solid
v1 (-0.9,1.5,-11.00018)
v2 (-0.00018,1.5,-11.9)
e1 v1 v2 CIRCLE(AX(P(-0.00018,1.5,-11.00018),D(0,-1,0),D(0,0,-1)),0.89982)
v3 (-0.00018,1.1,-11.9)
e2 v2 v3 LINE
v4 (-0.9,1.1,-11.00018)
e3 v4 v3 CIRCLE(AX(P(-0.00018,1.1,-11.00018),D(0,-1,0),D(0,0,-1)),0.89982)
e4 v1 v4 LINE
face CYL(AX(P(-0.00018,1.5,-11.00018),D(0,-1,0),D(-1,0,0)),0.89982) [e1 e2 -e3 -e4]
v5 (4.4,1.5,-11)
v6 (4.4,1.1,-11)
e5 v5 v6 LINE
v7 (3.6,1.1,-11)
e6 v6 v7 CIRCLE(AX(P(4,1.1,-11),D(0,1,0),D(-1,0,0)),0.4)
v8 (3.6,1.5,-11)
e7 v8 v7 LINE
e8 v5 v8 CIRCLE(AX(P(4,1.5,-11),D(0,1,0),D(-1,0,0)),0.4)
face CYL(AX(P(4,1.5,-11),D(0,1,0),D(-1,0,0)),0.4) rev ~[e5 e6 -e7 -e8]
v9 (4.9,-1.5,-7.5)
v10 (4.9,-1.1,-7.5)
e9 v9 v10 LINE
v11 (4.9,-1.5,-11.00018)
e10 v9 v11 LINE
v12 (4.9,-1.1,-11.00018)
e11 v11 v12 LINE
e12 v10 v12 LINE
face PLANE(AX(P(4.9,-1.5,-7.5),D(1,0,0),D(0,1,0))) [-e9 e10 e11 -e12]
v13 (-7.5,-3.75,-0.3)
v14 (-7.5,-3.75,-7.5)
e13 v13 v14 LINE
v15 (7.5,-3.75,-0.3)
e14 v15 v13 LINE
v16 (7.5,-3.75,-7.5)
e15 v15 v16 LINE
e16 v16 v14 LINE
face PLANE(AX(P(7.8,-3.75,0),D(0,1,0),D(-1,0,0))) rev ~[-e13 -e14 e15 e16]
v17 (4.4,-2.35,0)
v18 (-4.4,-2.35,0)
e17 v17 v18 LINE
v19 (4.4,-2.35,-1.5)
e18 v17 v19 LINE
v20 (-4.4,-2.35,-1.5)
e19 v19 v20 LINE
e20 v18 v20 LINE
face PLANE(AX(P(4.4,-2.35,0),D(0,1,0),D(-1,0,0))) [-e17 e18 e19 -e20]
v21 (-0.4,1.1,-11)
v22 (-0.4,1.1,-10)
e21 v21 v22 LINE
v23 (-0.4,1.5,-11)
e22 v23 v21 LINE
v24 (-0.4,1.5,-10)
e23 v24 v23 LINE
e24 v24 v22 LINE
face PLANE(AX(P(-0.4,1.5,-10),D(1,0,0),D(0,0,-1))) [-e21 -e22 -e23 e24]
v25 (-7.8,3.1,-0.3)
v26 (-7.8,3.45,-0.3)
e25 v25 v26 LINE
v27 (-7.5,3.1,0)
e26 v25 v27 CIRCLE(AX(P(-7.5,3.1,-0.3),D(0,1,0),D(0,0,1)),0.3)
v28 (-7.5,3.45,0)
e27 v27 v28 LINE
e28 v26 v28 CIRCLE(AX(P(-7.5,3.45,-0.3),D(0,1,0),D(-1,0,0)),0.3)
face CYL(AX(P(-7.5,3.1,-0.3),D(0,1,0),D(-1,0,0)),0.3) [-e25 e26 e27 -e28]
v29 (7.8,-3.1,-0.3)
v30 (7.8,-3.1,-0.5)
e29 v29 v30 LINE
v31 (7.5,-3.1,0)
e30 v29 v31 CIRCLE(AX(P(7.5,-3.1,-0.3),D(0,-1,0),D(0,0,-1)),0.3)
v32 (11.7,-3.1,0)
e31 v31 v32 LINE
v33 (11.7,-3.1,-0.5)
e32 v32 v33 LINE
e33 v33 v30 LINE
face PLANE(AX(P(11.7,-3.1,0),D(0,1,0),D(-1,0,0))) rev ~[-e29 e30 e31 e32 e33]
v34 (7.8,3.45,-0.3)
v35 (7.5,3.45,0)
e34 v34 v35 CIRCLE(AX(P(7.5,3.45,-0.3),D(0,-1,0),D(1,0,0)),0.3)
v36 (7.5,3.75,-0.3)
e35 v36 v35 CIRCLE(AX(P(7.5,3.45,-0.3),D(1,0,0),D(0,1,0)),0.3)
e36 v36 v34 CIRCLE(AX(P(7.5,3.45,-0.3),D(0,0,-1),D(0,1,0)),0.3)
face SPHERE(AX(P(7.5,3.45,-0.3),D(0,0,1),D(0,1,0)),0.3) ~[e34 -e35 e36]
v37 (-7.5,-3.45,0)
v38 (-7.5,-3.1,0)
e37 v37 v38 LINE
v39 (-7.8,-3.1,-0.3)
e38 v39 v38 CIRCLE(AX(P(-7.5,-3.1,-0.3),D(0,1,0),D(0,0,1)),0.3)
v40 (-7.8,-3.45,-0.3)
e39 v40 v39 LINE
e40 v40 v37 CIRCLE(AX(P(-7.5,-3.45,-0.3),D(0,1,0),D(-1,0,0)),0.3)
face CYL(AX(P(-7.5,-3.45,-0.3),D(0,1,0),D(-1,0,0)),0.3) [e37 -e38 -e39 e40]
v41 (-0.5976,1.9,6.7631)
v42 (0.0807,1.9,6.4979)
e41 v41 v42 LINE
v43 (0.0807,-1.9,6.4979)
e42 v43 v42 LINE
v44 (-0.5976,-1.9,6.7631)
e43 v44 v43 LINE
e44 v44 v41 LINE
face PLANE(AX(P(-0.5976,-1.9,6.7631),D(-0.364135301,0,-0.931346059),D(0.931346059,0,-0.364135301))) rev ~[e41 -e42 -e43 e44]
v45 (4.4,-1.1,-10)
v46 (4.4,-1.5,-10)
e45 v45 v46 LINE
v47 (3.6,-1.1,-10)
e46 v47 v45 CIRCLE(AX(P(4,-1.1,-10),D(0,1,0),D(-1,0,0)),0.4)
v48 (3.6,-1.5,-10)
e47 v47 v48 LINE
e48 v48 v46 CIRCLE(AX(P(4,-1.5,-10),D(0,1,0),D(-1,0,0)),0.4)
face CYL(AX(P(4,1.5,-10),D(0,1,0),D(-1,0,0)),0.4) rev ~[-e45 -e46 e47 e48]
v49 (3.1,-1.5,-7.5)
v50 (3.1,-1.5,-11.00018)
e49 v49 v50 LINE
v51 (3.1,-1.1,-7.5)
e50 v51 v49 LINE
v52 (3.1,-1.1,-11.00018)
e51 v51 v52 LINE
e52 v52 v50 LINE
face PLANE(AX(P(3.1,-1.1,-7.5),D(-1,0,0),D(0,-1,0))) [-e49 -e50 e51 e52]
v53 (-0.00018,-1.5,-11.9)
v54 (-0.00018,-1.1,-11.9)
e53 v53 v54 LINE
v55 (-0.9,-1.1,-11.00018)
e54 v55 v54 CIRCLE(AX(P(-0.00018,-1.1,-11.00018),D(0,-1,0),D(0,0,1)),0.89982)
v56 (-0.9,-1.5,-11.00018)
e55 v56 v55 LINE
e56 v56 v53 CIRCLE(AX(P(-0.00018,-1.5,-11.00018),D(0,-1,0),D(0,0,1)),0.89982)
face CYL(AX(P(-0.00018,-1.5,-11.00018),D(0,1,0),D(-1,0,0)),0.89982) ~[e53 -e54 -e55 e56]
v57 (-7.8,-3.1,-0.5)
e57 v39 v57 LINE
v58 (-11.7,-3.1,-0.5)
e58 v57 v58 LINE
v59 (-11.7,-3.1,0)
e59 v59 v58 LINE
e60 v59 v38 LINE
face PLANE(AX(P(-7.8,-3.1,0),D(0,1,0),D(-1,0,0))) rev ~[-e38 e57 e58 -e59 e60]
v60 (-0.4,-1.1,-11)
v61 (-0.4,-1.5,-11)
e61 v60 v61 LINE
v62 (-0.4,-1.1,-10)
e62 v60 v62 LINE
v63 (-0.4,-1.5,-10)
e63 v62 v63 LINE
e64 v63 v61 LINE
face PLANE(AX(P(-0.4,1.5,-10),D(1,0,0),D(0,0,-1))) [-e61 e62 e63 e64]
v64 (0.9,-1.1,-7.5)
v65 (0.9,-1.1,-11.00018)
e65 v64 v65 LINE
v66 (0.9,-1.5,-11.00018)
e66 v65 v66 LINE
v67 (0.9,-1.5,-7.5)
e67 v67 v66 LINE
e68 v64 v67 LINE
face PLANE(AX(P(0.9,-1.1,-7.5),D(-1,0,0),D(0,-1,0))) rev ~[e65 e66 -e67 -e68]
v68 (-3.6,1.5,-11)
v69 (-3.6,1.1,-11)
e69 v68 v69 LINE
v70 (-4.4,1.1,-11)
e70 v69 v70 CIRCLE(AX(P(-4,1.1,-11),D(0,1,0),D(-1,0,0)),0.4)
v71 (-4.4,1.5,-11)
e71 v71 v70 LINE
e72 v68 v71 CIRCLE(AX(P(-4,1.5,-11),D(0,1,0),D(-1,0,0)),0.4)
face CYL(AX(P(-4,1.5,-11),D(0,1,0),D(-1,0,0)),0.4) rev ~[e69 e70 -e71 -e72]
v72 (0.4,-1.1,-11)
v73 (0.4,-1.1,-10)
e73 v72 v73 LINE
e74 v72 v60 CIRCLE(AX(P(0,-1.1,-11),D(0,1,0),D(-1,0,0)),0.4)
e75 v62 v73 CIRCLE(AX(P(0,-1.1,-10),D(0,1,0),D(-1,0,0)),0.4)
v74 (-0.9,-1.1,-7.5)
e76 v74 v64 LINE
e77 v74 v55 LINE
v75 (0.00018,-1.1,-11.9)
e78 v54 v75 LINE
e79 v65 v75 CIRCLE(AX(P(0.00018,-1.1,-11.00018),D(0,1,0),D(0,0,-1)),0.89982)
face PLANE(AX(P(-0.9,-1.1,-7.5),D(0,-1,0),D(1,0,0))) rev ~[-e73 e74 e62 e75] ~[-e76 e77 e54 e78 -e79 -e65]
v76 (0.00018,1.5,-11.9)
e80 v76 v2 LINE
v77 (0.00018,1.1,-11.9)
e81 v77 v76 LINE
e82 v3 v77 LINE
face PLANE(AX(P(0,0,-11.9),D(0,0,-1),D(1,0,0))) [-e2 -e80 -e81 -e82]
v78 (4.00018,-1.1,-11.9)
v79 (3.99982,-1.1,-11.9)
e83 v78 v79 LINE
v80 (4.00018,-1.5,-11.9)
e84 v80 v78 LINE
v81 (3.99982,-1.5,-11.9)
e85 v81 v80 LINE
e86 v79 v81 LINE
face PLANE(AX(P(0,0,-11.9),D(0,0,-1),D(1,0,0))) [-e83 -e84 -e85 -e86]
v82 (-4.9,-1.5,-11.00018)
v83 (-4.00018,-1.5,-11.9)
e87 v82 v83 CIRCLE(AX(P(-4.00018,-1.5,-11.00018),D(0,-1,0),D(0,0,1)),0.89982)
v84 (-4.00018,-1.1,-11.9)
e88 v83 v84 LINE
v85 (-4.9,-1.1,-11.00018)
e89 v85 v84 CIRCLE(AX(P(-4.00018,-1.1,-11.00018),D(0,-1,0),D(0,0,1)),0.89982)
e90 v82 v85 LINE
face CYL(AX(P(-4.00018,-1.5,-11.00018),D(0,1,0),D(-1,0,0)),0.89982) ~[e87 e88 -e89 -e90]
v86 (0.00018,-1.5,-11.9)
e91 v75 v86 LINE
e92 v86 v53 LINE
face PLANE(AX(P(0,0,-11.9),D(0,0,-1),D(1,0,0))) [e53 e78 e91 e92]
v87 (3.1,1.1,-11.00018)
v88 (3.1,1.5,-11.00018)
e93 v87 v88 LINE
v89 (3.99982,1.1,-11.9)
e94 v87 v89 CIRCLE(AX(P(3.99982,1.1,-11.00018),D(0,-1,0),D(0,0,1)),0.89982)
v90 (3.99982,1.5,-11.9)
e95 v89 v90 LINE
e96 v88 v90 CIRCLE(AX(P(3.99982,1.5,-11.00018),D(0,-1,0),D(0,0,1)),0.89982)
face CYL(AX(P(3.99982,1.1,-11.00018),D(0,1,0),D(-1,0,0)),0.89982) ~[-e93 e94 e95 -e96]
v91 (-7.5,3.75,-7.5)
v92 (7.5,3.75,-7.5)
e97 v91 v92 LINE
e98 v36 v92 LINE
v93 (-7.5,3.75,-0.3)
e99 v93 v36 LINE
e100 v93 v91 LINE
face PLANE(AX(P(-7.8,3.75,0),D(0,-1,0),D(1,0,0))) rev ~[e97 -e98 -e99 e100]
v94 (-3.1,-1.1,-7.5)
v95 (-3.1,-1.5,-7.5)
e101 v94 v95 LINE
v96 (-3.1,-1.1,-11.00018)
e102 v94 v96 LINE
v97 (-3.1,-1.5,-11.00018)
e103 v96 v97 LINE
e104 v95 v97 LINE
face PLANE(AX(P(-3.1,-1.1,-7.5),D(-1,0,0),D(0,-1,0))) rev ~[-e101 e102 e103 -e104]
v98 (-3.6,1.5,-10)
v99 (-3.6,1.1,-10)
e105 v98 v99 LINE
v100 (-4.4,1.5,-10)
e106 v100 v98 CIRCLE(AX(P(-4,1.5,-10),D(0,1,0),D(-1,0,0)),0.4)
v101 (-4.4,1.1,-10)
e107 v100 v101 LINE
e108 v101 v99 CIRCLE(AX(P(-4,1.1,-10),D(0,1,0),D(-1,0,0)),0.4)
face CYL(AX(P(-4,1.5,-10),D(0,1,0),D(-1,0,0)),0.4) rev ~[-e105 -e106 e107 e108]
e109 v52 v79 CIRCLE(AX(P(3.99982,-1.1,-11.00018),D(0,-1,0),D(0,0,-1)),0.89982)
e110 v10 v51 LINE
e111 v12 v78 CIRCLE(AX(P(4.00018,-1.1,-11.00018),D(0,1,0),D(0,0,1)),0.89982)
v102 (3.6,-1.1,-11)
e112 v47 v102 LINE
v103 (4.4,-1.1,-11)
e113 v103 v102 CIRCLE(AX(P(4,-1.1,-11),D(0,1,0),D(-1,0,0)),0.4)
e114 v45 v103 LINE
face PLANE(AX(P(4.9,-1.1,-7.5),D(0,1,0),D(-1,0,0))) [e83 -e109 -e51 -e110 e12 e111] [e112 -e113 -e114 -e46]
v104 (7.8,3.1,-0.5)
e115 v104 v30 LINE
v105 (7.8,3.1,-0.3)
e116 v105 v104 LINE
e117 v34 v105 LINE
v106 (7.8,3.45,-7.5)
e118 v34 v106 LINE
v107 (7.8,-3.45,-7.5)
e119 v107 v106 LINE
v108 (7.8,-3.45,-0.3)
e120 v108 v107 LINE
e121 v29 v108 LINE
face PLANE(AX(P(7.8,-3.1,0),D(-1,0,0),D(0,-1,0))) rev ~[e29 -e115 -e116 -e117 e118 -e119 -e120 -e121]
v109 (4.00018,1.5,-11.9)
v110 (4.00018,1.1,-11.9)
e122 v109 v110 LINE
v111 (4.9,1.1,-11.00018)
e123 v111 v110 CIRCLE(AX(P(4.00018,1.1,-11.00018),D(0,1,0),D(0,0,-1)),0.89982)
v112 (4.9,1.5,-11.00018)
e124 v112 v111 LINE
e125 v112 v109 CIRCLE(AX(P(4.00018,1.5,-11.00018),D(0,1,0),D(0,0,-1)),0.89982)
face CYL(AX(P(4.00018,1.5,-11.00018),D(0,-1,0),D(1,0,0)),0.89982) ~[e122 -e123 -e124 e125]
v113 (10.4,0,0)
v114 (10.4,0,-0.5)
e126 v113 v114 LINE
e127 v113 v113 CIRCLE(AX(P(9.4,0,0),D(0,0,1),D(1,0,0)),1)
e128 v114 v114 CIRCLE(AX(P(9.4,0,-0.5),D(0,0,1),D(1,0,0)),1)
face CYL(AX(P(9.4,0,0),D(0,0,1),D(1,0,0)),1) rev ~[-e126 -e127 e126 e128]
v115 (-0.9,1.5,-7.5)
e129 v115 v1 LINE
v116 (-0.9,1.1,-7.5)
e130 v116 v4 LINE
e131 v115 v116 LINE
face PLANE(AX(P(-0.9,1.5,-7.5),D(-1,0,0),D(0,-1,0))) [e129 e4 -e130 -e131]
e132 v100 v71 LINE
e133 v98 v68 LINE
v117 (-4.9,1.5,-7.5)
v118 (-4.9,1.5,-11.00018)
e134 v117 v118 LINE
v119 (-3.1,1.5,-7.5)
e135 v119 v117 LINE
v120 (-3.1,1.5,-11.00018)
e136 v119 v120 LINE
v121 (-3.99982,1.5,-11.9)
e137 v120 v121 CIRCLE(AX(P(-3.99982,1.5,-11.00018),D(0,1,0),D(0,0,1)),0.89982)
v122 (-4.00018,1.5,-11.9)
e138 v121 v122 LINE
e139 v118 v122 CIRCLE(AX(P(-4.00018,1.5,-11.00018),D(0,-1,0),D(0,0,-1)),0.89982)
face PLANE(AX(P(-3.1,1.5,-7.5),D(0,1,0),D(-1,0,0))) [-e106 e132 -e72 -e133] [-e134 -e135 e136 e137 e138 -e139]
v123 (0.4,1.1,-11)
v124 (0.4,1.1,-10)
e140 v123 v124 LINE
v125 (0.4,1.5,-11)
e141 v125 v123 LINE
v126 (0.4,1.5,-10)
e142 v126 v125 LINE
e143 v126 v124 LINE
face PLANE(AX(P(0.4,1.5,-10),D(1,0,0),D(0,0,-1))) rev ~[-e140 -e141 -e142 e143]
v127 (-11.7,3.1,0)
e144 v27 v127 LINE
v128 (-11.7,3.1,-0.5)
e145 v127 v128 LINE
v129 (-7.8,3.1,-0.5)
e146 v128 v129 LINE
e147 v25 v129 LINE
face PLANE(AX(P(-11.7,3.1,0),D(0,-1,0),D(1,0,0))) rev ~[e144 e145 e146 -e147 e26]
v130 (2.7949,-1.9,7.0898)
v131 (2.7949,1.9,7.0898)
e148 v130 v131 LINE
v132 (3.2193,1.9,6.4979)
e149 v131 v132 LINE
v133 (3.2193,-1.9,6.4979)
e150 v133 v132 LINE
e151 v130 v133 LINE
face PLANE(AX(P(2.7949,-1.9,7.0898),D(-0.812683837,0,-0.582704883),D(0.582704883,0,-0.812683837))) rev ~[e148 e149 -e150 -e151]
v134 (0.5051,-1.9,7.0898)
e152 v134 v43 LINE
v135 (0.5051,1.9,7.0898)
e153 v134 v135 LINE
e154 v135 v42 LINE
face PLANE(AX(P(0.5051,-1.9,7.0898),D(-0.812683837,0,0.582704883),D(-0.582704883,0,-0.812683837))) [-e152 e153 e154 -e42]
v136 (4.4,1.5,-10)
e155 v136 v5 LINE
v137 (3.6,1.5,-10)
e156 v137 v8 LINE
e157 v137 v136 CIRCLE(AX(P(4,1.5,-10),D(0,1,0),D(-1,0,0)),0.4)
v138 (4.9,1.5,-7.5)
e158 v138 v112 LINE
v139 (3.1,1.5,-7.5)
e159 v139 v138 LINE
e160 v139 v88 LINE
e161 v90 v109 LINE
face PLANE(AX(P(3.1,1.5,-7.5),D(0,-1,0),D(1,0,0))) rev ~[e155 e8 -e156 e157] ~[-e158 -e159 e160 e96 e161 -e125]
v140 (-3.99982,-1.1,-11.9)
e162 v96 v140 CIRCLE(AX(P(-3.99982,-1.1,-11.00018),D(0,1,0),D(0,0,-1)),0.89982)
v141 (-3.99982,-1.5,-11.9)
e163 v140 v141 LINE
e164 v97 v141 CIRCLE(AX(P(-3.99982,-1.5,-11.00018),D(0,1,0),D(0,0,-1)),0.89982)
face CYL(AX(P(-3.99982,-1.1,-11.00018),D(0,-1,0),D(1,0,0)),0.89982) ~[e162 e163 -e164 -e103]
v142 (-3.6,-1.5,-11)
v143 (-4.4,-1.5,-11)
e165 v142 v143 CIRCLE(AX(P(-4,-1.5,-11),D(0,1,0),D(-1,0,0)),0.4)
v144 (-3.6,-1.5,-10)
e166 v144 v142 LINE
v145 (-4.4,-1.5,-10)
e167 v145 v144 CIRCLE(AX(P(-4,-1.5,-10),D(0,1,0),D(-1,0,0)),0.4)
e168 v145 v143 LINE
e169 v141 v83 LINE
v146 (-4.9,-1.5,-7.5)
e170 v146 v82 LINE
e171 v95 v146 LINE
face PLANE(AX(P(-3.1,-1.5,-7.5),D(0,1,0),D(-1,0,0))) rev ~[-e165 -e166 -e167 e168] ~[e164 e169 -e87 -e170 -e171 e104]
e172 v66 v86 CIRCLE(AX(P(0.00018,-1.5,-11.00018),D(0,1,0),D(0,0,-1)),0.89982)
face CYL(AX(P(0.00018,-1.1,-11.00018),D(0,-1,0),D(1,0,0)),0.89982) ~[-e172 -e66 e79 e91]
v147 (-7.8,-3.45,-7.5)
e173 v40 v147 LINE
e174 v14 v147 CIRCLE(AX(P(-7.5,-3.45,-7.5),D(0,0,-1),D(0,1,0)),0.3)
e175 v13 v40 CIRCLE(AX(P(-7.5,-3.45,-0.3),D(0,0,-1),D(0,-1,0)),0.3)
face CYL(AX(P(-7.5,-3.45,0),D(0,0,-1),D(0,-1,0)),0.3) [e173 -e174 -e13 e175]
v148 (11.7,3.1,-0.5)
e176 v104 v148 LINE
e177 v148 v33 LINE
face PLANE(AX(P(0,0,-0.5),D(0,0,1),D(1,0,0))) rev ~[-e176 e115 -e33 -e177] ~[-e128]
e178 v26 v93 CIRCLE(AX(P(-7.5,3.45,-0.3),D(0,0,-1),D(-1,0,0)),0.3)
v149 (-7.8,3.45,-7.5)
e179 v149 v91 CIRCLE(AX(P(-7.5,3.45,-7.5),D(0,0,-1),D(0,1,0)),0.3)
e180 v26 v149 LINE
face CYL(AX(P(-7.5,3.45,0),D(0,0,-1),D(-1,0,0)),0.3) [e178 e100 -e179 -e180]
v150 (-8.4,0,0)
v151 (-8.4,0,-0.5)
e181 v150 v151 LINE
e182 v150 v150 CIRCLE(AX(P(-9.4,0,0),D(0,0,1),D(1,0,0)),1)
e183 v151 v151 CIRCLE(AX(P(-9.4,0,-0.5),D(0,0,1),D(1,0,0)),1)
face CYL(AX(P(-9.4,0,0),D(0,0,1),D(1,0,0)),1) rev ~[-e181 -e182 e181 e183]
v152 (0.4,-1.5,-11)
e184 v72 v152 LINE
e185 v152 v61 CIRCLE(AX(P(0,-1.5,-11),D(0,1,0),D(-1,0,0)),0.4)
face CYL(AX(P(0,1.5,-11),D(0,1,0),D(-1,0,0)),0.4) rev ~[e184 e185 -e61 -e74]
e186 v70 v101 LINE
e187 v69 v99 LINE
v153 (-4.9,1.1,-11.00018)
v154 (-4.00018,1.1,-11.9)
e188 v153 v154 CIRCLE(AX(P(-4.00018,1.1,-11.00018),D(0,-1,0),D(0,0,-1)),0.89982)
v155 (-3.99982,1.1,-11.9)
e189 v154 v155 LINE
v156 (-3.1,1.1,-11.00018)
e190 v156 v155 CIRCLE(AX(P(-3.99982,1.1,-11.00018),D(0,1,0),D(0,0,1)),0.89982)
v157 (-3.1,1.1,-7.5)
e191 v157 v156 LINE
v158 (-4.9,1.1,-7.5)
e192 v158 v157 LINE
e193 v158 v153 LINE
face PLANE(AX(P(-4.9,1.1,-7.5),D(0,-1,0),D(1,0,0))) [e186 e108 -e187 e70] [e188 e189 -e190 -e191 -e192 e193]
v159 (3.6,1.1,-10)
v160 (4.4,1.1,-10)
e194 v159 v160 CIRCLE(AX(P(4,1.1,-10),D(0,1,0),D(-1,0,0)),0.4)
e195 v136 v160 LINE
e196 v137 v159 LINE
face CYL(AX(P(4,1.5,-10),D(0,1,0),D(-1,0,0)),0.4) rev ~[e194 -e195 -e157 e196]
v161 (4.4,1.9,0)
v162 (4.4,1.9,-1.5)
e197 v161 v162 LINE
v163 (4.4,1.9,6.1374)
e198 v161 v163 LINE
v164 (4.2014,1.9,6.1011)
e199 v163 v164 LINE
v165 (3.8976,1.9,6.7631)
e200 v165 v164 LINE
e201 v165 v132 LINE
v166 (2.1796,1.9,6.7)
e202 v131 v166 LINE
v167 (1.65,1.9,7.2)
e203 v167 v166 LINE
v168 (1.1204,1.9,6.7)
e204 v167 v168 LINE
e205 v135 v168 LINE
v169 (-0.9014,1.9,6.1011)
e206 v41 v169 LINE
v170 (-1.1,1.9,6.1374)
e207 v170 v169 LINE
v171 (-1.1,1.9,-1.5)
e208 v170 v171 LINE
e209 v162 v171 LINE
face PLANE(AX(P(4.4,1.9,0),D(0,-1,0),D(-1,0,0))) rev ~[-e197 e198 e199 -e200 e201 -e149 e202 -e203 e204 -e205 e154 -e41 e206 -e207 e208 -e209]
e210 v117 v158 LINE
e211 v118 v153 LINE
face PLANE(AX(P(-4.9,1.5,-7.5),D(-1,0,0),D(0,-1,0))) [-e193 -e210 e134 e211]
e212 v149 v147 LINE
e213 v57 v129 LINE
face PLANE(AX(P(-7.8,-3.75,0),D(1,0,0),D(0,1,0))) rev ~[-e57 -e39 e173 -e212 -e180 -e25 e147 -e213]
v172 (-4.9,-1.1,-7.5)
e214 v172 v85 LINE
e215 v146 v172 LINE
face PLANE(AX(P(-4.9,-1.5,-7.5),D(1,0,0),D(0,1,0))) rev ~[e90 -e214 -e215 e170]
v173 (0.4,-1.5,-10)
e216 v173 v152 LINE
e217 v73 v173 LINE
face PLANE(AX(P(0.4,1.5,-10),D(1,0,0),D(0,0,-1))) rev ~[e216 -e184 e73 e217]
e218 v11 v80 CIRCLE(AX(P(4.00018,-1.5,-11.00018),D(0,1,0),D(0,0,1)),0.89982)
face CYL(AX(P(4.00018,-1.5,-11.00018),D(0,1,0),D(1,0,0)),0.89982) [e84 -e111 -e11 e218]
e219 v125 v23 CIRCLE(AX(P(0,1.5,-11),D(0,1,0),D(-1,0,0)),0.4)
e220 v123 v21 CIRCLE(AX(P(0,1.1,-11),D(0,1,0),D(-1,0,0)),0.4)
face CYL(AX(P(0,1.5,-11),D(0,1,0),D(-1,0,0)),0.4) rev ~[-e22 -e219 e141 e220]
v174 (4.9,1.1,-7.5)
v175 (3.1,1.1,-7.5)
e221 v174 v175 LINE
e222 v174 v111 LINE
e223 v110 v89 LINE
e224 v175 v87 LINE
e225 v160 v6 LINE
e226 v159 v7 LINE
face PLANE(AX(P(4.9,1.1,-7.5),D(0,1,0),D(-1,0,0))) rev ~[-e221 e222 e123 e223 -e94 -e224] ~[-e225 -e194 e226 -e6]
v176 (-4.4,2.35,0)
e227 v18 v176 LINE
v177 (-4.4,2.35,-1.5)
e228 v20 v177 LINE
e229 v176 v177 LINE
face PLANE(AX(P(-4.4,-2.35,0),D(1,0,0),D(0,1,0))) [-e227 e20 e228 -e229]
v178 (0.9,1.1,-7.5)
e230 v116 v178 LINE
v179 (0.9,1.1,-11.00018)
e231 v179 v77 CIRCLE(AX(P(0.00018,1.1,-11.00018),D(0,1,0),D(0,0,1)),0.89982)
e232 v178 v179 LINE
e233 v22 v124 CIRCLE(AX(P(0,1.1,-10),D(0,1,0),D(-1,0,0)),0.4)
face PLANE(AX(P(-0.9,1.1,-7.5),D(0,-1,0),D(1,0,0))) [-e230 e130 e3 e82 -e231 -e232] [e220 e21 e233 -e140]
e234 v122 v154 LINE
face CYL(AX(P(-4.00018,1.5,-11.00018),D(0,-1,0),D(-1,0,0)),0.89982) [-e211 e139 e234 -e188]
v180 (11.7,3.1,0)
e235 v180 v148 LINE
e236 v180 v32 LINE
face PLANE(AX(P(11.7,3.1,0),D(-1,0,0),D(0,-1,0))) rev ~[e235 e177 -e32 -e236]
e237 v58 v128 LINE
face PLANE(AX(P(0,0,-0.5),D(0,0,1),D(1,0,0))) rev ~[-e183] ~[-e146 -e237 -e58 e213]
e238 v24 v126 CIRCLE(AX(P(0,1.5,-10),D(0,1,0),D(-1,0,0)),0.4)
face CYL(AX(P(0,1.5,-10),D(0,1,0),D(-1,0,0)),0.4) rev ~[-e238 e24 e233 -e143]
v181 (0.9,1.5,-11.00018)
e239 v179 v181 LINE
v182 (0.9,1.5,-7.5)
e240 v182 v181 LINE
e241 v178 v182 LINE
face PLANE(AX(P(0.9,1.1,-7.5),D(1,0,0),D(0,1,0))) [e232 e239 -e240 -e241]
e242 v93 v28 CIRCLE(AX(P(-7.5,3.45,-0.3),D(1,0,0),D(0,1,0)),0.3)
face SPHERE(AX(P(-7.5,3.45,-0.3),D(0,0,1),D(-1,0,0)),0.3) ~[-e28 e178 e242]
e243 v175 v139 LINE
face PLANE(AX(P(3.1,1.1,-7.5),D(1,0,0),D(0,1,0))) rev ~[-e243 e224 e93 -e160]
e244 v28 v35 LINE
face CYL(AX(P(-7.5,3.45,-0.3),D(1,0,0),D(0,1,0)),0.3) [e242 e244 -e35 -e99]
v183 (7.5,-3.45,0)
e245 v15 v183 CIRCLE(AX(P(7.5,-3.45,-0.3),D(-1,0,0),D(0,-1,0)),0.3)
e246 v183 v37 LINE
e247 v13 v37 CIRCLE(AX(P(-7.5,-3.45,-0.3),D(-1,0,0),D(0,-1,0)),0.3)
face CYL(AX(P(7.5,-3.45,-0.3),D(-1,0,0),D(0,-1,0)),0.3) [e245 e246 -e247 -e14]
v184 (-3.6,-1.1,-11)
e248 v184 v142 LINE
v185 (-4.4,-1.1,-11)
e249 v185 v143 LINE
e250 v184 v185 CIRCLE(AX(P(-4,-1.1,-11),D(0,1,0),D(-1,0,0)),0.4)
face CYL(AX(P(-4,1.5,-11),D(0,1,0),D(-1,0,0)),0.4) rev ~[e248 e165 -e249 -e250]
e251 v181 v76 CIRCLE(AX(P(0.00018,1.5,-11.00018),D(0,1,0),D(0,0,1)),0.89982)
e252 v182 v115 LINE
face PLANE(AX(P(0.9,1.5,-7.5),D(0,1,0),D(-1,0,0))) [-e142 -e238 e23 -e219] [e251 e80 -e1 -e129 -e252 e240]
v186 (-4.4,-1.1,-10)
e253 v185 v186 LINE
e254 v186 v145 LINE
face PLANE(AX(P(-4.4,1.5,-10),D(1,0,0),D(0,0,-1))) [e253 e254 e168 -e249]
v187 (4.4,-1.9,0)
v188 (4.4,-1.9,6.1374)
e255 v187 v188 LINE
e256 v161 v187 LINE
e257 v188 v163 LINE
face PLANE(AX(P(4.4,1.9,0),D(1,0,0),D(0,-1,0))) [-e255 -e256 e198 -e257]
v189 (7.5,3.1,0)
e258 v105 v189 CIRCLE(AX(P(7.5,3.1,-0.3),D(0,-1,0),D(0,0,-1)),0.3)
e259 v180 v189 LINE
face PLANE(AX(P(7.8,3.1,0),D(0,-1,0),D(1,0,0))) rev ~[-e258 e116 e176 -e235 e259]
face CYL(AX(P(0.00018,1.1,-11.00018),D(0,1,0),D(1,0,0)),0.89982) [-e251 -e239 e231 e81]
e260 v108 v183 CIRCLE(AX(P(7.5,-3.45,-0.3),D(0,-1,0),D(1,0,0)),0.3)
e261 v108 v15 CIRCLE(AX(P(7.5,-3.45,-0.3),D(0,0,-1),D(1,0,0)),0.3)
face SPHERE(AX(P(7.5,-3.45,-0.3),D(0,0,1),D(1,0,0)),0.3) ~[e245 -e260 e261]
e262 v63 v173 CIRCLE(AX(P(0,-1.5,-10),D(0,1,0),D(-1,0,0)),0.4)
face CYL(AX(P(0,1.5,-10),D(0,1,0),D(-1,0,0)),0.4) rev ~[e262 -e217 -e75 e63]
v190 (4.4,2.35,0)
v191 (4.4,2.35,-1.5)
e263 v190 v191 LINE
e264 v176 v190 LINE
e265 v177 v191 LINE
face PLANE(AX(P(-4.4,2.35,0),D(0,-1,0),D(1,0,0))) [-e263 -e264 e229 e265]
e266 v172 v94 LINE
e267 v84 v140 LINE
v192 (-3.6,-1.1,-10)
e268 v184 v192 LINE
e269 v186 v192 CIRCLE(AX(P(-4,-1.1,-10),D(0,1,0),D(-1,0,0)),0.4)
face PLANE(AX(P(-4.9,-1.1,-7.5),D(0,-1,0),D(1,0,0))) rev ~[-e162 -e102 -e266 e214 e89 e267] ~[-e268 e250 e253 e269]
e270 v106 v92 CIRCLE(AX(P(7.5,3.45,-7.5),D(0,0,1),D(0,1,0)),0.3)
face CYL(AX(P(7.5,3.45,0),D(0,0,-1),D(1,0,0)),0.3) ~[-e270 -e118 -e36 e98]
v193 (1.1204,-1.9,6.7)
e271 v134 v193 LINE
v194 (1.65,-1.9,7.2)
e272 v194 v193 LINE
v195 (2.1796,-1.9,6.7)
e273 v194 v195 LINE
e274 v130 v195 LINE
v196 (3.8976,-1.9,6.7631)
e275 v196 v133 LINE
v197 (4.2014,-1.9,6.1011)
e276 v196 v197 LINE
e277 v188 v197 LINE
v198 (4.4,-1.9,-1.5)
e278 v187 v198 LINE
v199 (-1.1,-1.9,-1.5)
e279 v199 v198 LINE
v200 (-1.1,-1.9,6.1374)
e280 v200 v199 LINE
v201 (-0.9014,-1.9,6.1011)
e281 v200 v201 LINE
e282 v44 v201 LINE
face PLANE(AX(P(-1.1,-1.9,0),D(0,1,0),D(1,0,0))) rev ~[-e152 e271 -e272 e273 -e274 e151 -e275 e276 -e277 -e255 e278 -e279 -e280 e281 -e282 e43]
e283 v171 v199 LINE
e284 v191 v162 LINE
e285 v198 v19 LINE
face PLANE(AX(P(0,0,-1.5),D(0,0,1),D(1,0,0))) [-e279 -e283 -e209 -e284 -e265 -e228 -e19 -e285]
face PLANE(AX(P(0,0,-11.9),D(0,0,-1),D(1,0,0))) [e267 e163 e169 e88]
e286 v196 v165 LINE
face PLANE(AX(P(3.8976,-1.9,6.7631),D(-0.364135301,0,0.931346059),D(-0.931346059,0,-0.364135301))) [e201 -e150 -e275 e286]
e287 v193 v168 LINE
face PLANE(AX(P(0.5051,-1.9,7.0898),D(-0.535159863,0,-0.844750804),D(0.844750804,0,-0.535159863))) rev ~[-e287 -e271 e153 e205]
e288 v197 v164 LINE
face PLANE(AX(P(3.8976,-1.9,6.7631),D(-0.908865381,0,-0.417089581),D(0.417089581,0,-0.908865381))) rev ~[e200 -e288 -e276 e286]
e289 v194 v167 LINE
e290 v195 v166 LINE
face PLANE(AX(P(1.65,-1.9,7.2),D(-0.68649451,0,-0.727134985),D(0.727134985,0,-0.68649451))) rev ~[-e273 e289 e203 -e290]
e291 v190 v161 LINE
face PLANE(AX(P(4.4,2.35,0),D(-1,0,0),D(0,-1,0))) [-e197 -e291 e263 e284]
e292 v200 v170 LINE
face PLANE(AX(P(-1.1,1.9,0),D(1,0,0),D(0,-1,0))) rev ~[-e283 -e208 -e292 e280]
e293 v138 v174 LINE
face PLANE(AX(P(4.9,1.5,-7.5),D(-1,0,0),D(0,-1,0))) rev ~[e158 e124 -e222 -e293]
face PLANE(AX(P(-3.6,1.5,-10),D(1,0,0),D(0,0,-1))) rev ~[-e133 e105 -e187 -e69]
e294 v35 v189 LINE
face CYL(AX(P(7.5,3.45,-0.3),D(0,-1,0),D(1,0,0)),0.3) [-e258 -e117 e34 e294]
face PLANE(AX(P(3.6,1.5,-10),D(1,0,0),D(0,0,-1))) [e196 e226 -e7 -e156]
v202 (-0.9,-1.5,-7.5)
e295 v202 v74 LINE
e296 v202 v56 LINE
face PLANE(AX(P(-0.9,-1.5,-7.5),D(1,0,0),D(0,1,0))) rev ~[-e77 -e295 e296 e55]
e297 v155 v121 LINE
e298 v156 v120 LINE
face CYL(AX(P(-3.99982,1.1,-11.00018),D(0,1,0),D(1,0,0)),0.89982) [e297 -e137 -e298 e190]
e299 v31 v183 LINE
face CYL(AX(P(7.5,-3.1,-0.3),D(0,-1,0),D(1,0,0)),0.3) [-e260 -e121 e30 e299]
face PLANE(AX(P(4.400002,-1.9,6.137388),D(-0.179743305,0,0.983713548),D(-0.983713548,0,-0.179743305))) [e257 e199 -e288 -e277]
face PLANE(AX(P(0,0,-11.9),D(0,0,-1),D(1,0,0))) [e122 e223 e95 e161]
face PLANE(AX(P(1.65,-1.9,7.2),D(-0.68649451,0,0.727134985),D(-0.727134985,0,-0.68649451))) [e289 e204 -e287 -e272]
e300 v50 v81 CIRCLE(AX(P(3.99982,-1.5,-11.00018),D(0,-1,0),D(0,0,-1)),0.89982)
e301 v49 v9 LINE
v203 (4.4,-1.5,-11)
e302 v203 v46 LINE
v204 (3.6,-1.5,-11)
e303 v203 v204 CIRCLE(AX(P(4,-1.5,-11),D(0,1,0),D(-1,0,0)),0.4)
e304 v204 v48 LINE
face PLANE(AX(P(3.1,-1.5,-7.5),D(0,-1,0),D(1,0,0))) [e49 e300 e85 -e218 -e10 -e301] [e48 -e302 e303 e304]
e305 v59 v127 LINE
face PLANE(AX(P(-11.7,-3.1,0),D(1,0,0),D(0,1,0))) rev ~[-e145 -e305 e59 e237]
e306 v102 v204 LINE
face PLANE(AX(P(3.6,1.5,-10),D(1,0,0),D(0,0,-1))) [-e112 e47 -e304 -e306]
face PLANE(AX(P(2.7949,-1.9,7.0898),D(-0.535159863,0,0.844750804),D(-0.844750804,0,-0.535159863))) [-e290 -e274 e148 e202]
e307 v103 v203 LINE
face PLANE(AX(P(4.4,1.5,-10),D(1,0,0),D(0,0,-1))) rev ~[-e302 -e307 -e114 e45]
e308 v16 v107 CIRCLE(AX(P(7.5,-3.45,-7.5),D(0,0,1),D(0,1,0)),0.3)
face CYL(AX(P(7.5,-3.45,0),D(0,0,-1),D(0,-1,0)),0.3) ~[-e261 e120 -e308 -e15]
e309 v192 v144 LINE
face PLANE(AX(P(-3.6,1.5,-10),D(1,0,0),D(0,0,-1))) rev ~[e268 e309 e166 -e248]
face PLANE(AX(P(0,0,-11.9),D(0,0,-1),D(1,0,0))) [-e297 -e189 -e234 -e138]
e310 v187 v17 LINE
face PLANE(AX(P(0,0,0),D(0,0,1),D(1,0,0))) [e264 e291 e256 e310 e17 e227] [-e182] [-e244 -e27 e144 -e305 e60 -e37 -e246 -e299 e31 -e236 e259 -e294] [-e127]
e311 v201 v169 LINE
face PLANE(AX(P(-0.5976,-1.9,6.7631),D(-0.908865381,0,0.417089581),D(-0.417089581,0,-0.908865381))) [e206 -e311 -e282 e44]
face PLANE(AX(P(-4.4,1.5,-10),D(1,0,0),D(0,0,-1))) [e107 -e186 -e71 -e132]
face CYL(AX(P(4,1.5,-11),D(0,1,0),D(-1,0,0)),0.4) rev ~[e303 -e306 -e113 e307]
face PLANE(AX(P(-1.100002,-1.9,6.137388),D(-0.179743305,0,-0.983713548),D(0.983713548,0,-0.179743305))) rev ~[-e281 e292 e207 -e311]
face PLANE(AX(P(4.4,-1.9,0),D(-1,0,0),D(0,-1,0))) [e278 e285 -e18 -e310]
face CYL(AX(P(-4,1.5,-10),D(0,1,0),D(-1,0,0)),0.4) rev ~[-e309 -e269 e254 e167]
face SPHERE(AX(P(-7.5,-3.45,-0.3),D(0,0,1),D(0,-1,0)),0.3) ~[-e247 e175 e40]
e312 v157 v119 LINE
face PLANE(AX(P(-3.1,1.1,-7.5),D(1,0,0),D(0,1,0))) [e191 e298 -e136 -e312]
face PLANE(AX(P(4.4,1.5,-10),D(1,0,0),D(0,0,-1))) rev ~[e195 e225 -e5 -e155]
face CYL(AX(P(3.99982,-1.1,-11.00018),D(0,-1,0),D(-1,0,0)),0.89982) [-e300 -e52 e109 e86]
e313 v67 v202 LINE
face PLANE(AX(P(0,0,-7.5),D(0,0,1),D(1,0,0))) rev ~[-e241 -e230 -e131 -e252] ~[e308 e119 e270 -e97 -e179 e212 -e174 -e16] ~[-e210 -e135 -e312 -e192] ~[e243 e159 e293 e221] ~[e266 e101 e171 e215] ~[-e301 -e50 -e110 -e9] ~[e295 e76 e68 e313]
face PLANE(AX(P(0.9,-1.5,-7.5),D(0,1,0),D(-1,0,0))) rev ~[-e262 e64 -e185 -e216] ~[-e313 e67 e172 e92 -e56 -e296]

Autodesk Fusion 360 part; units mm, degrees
sketch "switch" plane through (0, 0, 0) normal (0, 0, 1) x (1, 0, 0)
  line L0 (0, 0) -> (0, 16.8468) construction
  line L1 (-9.4, 0) -> (9.4, 0) construction
  circle A0 centre (-9.4, 0) radius 1
  circle A1 centre (9.4, 0) radius 1
  line L2 (7.8, -3.75) -> (-7.8, -3.75)
  line L3 (-7.8, -3.75) -> (-7.8, 3.75)
  line L4 (-7.8, 3.75) -> (7.8, 3.75)
  line L5 (7.8, 3.75) -> (7.8, -3.75)
  line L6 (7.8, -3.75) -> (-7.8, 3.75) construction
  line L7 (-7.8, -3.75) -> (7.8, 3.75) construction
  line L8 (-11.7, 3.1) -> (11.7, 3.1)
  line L9 (11.7, 3.1) -> (11.7, -3.1)
  line L10 (11.7, -3.1) -> (-11.7, -3.1)
  line L11 (-11.7, -3.1) -> (-11.7, 3.1)
  line L12 (-11.7, 3.1) -> (11.7, -3.1) construction
  line L13 (11.7, 3.1) -> (-11.7, -3.1) construction
  line L14 (4.4, -2.35) -> (-4.4, -2.35)
  line L15 (-4.4, -2.35) -> (-4.4, 2.35)
  line L16 (-4.4, 2.35) -> (4.4, 2.35)
  line L17 (4.4, 2.35) -> (4.4, -2.35)
  line L18 (4.4, -2.35) -> (-4.4, 2.35) construction
  line L19 (-4.4, -2.35) -> (4.4, 2.35) construction
  line L20 (4.4, 1.9) -> (-1.1, 1.9)
  line L21 (-1.1, 1.9) -> (-1.1, -1.9)
  line L22 (-1.1, -1.9) -> (4.4, -1.9)
  line L23 (4.4, -1.9) -> (4.4, 1.9)
  line L24 (4.4, 1.9) -> (-1.1, -1.9) construction
  line L25 (-1.1, 1.9) -> (4.4, -1.9) construction
  point P0 (1.65, 0)
  dimension "d1" = 2
  dimension "d2" = 2
  dimension "d3" = 18.8
  dimension "d4" = 7.5
  dimension "d6" = 15.6
  dimension "d7" = 23.4
  dimension "d8" = 6.2
  dimension "d9" = 8.8
  dimension "d10" = 4.7
  dimension "d11" = 5.5
  dimension "d12" = 3.8
extrude "Extrude1" add sketch "switch" against normal blind 7.5 contours L2 L3 L5 L10 | L3 L5 L8 L10 | L3 L4 L5 L8 | L14 L15 L16 L17 L20 L21 L22 | L17 L20 L21 L22 L23
extrude "Extrude2" add sketch "switch" against normal blind 0.5 contours L5 L8 L9 L10 | L3 L8 L10 L11
extrude "Extrude3" cut sketch "switch" against normal blind 1.5 contours L14 L15 L16 L17 L20 L21 L22
extrude "Extrude4" add sketch "switch" along normal blind 7.2 contours L17 L20 L21 L22 L23
sketch "profile" plane through (0, -1.9, 0) normal (0, -1, 0) x (1, 0, 0)
  line L0 (-1.1, 7.2) -> (-1.1, -1.5)
  line L1 (-1.1, -1.5) -> (4.4, -1.5)
  line L2 (4.4, -1.5) -> (4.4, 0)
  line L3 (4.4, 0) -> (4.4, 7.2)
  line L4 (4.4, 7.2) -> (-1.1, 7.2)
  line L5 (-1.1, 7.2) -> (-1.1, -1.5) construction
  line L6 (-1.1, 7.2) -> (4.4, 7.2) construction
  line L7 (4.4, 0) -> (4.4, 7.2) construction
  line L8 (1.65, 7.2) -> (1.65, -1.5) construction
  circle A0 centre (1.65, 1.2) radius 6 construction
  line L9 (1.65, 7.2) -> (1.1204, 6.7)
  line L10 (1.65, 7.2) -> (2.1796, 6.7)
  line L11 (1.1204, 6.7) -> (2.1796, 6.7) construction
  line L12 (1.1204, 6.7) -> (1.65, 1.2) construction
  line L13 (2.1796, 6.7) -> (1.65, 1.2) construction
  line L14 (-1.1, 6.5327) -> (1.65, 1.2) construction
  line L15 (1.65, 1.2) -> (4.4, 6.5327) construction
  line L16 (4.9178, 6.232) -> (4.2014, 6.1011)
  line L17 (4.9178, 6.232) -> (5.0897, 5.5243)
  line L18 (3.8976, 6.7631) -> (3.2193, 6.4979)
  line L19 (3.8976, 6.7631) -> (4.2014, 6.1011)
  line L20 (2.7949, 7.0898) -> (2.1796, 6.7)
  line L21 (2.7949, 7.0898) -> (3.2193, 6.4979)
  line L22 (0.5051, 7.0898) -> (0.0807, 6.4979)
  line L23 (0.5051, 7.0898) -> (1.1204, 6.7)
  line L24 (-0.5976, 6.7631) -> (-0.9014, 6.1011)
  line L25 (-0.5976, 6.7631) -> (0.0807, 6.4979)
  line L26 (-1.6178, 6.232) -> (-1.7897, 5.5243)
  line L27 (-1.6178, 6.232) -> (-0.9014, 6.1011)
  line L28 (-1.1, 7.2) -> (-1.1, 6.1374)
  line L29 (-1.1, 7.2) -> (4.4, 7.2)
  line L30 (4.4, 7.2) -> (4.4, 6.1374)
  dimension "d21" = 12
  dimension "d23" = 0.5
  dimension "d24" = 11
  dimension "d26" = 66
extrude "Extrude5" cut sketch "profile" against normal blind 4 contours L0 L4 L9 L22 L23 L24 L25 L27 L28 L29 | L3 L4 L10 L16 L18 L19 L20 L21 L29 L30
sketch "contacts" plane through (0, 0, -7.5) normal (0, 0, -1) x (1, 0, 0)
  line L0 (-7.8, -3.75) -> (7.8, -3.75)
  line L1 (7.8, -3.75) -> (7.8, 3.75)
  line L2 (7.8, 3.75) -> (-7.8, 3.75)
  line L3 (-7.8, 3.75) -> (-7.8, -3.75)
  line L4 (-7.8, 3.75) -> (-7.8, -3.75) construction
  line L5 (7.8, 3.75) -> (-7.8, 3.75) construction
  line L6 (7.8, -3.75) -> (7.8, 3.75) construction
  line L7 (-7.8, -3.75) -> (7.8, -3.75) construction
  line L8 (-7.8, 0) -> (7.8, 0) construction
  line L9 (0, 3.75) -> (0, -3.75) construction
  line L10 (-0.9, 1.1) -> (0.9, 1.1)
  line L11 (0.9, 1.1) -> (0.9, 1.5)
  line L12 (0.9, 1.5) -> (-0.9, 1.5)
  line L13 (-0.9, 1.5) -> (-0.9, 1.1)
  line L14 (-4.9, 1.1) -> (-3.1, 1.1)
  line L15 (-3.1, 1.1) -> (-3.1, 1.5)
  line L16 (-3.1, 1.5) -> (-4.9, 1.5)
  line L17 (-4.9, 1.5) -> (-4.9, 1.1)
  line L18 (3.1, 1.5) -> (4.9, 1.5)
  line L19 (3.1, 1.1) -> (3.1, 1.5)
  line L20 (4.9, 1.1) -> (3.1, 1.1)
  line L21 (4.9, 1.5) -> (4.9, 1.1)
  line L22 (3.1, -1.1) -> (3.1, -1.5)
  line L23 (-4.9, -1.1) -> (-3.1, -1.1)
  line L24 (-0.9, -1.1) -> (0.9, -1.1)
  line L25 (4.9, -1.1) -> (3.1, -1.1)
  line L26 (0.9, -1.5) -> (-0.9, -1.5)
  line L27 (-4.9, -1.5) -> (-4.9, -1.1)
  line L28 (0.9, -1.1) -> (0.9, -1.5)
  line L29 (-0.9, -1.5) -> (-0.9, -1.1)
  line L30 (-3.1, -1.1) -> (-3.1, -1.5)
  line L31 (-3.1, -1.5) -> (-4.9, -1.5)
  line L32 (3.1, -1.5) -> (4.9, -1.5)
  line L33 (4.9, -1.5) -> (4.9, -1.1)
  dimension "d29" = 0.4
  dimension "d30" = 1.8
  dimension "d31" = 0.4
  dimension "d32" = 1.8
  dimension "d33" = 9.8
  dimension "d34" = 3
extrude "Extrude6" add sketch "contacts" along normal blind 4.4 contours L10 L11 L12 L13 | L14 L15 L16 L17 | L18 L19 L20 L21 | L22 L25 L32 L33 | L23 L27 L30 L31 | L24 L26 L28 L29
fillet "Fillet1" radius 0.9 12 edges at (-3.1, -1.3, -11.9) (-4.9, -1.3, -11.9) (-3.1, 1.3, -11.9) (-4.9, 1.3, -11.9) (-0.9, 1.3, -11.9) (0.9, 1.3, -11.9) (-0.9, -1.3, -11.9) (0.9, -1.3, -11.9) (3.1, -1.3, -11.9) (3.1, 1.3, -11.9) (4.9, 1.3, -11.9) (4.9, -1.3, -11.9)
sketch "Sketch4" plane through (0, 1.5, 0) normal (0, 1, 0) x (-1, 0, 0)
  arc A0 (-0.9, -11) -> (0.9, -11) centre (0, -11) ccw
  line L0 (0.9, -11) -> (0.9, -7.5)
  line L1 (0.9, -7.5) -> (-0.9, -7.5)
  line L2 (-0.9, -7.5) -> (-0.9, -11)
  arc A1 (-4.9, -11) -> (-3.1, -11) centre (-4, -11) ccw construction
  arc A2 (-0.9, -11) -> (0.9, -11) centre (0, -11) ccw construction
  arc A3 (3.1, -11) -> (4.9, -11) centre (4, -11) ccw construction
  line L3 (-4.9, -11) -> (-3.1, -11) construction
  circle A4 centre (-4, -11) radius 0.4
  line L4 (-4, -11) -> (-4, -10) construction
  circle A5 centre (-4, -10) radius 0.4
  line L5 (-4, -10) -> (-3.6, -10) construction
  line L6 (-4, -10) -> (-4.4, -10) construction
  line L7 (-3.6, -10) -> (-3.6, -11)
  line L8 (-4.4, -10) -> (-4.4, -11)
  curve L9 construction
  line L10 (-4, -11.9) -> (0, -11.9) construction
  line L11 (-2, -11.9) -> (-2, -7.5511) construction
  circle A6 centre (0, -10) radius 0.4
  circle A7 centre (0, -11) radius 0.4
  line L12 (-0.4, -10) -> (-0.4, -11)
  line L13 (0.4, -10) -> (0.4, -11)
  line L14 (0, -11.9) -> (0, -8.0759) construction
  circle A8 centre (4, -10) radius 0.4
  line L15 (4.4, -10) -> (4.4, -11)
  circle A9 centre (4, -11) radius 0.4
  line L16 (3.6, -10) -> (3.6, -11)
  dimension "d39" = 0.8
  dimension "d40" = 1
  dimension "d41" = 0.8
extrude "Extrude7" cut sketch "Sketch4" against normal blind 3.1 contours A4 | A4 A5 L7 L8 | A5 | A6 | A6 A7 L12 L13 | A7 | A8 | A8 L15 A9 L16 | A9
fillet "Fillet2" radius 0.3 4 edges at (7.8, 3.75, -3.75) (7.8, -3.75, -3.75) (-7.8, 3.75, -3.75) (-7.8, -3.75, -3.75)
fillet "Fillet3" radius 0.3 10 edges at (-7.8, 3.275, 0) (-7.7121, 3.6621, 0) (0, 3.75, 0) (7.7121, 3.6621, 0) (7.8, 3.275, 0) (7.8, -3.275, 0) (7.7121, -3.6621, 0) (0, -3.75, 0) (-7.7121, -3.6621, 0) (-7.8, -3.275, 0)
equation "d2 = d1"
equation "d31 = d29"
equation "d32 = d30"
equation "d41 = d39"
